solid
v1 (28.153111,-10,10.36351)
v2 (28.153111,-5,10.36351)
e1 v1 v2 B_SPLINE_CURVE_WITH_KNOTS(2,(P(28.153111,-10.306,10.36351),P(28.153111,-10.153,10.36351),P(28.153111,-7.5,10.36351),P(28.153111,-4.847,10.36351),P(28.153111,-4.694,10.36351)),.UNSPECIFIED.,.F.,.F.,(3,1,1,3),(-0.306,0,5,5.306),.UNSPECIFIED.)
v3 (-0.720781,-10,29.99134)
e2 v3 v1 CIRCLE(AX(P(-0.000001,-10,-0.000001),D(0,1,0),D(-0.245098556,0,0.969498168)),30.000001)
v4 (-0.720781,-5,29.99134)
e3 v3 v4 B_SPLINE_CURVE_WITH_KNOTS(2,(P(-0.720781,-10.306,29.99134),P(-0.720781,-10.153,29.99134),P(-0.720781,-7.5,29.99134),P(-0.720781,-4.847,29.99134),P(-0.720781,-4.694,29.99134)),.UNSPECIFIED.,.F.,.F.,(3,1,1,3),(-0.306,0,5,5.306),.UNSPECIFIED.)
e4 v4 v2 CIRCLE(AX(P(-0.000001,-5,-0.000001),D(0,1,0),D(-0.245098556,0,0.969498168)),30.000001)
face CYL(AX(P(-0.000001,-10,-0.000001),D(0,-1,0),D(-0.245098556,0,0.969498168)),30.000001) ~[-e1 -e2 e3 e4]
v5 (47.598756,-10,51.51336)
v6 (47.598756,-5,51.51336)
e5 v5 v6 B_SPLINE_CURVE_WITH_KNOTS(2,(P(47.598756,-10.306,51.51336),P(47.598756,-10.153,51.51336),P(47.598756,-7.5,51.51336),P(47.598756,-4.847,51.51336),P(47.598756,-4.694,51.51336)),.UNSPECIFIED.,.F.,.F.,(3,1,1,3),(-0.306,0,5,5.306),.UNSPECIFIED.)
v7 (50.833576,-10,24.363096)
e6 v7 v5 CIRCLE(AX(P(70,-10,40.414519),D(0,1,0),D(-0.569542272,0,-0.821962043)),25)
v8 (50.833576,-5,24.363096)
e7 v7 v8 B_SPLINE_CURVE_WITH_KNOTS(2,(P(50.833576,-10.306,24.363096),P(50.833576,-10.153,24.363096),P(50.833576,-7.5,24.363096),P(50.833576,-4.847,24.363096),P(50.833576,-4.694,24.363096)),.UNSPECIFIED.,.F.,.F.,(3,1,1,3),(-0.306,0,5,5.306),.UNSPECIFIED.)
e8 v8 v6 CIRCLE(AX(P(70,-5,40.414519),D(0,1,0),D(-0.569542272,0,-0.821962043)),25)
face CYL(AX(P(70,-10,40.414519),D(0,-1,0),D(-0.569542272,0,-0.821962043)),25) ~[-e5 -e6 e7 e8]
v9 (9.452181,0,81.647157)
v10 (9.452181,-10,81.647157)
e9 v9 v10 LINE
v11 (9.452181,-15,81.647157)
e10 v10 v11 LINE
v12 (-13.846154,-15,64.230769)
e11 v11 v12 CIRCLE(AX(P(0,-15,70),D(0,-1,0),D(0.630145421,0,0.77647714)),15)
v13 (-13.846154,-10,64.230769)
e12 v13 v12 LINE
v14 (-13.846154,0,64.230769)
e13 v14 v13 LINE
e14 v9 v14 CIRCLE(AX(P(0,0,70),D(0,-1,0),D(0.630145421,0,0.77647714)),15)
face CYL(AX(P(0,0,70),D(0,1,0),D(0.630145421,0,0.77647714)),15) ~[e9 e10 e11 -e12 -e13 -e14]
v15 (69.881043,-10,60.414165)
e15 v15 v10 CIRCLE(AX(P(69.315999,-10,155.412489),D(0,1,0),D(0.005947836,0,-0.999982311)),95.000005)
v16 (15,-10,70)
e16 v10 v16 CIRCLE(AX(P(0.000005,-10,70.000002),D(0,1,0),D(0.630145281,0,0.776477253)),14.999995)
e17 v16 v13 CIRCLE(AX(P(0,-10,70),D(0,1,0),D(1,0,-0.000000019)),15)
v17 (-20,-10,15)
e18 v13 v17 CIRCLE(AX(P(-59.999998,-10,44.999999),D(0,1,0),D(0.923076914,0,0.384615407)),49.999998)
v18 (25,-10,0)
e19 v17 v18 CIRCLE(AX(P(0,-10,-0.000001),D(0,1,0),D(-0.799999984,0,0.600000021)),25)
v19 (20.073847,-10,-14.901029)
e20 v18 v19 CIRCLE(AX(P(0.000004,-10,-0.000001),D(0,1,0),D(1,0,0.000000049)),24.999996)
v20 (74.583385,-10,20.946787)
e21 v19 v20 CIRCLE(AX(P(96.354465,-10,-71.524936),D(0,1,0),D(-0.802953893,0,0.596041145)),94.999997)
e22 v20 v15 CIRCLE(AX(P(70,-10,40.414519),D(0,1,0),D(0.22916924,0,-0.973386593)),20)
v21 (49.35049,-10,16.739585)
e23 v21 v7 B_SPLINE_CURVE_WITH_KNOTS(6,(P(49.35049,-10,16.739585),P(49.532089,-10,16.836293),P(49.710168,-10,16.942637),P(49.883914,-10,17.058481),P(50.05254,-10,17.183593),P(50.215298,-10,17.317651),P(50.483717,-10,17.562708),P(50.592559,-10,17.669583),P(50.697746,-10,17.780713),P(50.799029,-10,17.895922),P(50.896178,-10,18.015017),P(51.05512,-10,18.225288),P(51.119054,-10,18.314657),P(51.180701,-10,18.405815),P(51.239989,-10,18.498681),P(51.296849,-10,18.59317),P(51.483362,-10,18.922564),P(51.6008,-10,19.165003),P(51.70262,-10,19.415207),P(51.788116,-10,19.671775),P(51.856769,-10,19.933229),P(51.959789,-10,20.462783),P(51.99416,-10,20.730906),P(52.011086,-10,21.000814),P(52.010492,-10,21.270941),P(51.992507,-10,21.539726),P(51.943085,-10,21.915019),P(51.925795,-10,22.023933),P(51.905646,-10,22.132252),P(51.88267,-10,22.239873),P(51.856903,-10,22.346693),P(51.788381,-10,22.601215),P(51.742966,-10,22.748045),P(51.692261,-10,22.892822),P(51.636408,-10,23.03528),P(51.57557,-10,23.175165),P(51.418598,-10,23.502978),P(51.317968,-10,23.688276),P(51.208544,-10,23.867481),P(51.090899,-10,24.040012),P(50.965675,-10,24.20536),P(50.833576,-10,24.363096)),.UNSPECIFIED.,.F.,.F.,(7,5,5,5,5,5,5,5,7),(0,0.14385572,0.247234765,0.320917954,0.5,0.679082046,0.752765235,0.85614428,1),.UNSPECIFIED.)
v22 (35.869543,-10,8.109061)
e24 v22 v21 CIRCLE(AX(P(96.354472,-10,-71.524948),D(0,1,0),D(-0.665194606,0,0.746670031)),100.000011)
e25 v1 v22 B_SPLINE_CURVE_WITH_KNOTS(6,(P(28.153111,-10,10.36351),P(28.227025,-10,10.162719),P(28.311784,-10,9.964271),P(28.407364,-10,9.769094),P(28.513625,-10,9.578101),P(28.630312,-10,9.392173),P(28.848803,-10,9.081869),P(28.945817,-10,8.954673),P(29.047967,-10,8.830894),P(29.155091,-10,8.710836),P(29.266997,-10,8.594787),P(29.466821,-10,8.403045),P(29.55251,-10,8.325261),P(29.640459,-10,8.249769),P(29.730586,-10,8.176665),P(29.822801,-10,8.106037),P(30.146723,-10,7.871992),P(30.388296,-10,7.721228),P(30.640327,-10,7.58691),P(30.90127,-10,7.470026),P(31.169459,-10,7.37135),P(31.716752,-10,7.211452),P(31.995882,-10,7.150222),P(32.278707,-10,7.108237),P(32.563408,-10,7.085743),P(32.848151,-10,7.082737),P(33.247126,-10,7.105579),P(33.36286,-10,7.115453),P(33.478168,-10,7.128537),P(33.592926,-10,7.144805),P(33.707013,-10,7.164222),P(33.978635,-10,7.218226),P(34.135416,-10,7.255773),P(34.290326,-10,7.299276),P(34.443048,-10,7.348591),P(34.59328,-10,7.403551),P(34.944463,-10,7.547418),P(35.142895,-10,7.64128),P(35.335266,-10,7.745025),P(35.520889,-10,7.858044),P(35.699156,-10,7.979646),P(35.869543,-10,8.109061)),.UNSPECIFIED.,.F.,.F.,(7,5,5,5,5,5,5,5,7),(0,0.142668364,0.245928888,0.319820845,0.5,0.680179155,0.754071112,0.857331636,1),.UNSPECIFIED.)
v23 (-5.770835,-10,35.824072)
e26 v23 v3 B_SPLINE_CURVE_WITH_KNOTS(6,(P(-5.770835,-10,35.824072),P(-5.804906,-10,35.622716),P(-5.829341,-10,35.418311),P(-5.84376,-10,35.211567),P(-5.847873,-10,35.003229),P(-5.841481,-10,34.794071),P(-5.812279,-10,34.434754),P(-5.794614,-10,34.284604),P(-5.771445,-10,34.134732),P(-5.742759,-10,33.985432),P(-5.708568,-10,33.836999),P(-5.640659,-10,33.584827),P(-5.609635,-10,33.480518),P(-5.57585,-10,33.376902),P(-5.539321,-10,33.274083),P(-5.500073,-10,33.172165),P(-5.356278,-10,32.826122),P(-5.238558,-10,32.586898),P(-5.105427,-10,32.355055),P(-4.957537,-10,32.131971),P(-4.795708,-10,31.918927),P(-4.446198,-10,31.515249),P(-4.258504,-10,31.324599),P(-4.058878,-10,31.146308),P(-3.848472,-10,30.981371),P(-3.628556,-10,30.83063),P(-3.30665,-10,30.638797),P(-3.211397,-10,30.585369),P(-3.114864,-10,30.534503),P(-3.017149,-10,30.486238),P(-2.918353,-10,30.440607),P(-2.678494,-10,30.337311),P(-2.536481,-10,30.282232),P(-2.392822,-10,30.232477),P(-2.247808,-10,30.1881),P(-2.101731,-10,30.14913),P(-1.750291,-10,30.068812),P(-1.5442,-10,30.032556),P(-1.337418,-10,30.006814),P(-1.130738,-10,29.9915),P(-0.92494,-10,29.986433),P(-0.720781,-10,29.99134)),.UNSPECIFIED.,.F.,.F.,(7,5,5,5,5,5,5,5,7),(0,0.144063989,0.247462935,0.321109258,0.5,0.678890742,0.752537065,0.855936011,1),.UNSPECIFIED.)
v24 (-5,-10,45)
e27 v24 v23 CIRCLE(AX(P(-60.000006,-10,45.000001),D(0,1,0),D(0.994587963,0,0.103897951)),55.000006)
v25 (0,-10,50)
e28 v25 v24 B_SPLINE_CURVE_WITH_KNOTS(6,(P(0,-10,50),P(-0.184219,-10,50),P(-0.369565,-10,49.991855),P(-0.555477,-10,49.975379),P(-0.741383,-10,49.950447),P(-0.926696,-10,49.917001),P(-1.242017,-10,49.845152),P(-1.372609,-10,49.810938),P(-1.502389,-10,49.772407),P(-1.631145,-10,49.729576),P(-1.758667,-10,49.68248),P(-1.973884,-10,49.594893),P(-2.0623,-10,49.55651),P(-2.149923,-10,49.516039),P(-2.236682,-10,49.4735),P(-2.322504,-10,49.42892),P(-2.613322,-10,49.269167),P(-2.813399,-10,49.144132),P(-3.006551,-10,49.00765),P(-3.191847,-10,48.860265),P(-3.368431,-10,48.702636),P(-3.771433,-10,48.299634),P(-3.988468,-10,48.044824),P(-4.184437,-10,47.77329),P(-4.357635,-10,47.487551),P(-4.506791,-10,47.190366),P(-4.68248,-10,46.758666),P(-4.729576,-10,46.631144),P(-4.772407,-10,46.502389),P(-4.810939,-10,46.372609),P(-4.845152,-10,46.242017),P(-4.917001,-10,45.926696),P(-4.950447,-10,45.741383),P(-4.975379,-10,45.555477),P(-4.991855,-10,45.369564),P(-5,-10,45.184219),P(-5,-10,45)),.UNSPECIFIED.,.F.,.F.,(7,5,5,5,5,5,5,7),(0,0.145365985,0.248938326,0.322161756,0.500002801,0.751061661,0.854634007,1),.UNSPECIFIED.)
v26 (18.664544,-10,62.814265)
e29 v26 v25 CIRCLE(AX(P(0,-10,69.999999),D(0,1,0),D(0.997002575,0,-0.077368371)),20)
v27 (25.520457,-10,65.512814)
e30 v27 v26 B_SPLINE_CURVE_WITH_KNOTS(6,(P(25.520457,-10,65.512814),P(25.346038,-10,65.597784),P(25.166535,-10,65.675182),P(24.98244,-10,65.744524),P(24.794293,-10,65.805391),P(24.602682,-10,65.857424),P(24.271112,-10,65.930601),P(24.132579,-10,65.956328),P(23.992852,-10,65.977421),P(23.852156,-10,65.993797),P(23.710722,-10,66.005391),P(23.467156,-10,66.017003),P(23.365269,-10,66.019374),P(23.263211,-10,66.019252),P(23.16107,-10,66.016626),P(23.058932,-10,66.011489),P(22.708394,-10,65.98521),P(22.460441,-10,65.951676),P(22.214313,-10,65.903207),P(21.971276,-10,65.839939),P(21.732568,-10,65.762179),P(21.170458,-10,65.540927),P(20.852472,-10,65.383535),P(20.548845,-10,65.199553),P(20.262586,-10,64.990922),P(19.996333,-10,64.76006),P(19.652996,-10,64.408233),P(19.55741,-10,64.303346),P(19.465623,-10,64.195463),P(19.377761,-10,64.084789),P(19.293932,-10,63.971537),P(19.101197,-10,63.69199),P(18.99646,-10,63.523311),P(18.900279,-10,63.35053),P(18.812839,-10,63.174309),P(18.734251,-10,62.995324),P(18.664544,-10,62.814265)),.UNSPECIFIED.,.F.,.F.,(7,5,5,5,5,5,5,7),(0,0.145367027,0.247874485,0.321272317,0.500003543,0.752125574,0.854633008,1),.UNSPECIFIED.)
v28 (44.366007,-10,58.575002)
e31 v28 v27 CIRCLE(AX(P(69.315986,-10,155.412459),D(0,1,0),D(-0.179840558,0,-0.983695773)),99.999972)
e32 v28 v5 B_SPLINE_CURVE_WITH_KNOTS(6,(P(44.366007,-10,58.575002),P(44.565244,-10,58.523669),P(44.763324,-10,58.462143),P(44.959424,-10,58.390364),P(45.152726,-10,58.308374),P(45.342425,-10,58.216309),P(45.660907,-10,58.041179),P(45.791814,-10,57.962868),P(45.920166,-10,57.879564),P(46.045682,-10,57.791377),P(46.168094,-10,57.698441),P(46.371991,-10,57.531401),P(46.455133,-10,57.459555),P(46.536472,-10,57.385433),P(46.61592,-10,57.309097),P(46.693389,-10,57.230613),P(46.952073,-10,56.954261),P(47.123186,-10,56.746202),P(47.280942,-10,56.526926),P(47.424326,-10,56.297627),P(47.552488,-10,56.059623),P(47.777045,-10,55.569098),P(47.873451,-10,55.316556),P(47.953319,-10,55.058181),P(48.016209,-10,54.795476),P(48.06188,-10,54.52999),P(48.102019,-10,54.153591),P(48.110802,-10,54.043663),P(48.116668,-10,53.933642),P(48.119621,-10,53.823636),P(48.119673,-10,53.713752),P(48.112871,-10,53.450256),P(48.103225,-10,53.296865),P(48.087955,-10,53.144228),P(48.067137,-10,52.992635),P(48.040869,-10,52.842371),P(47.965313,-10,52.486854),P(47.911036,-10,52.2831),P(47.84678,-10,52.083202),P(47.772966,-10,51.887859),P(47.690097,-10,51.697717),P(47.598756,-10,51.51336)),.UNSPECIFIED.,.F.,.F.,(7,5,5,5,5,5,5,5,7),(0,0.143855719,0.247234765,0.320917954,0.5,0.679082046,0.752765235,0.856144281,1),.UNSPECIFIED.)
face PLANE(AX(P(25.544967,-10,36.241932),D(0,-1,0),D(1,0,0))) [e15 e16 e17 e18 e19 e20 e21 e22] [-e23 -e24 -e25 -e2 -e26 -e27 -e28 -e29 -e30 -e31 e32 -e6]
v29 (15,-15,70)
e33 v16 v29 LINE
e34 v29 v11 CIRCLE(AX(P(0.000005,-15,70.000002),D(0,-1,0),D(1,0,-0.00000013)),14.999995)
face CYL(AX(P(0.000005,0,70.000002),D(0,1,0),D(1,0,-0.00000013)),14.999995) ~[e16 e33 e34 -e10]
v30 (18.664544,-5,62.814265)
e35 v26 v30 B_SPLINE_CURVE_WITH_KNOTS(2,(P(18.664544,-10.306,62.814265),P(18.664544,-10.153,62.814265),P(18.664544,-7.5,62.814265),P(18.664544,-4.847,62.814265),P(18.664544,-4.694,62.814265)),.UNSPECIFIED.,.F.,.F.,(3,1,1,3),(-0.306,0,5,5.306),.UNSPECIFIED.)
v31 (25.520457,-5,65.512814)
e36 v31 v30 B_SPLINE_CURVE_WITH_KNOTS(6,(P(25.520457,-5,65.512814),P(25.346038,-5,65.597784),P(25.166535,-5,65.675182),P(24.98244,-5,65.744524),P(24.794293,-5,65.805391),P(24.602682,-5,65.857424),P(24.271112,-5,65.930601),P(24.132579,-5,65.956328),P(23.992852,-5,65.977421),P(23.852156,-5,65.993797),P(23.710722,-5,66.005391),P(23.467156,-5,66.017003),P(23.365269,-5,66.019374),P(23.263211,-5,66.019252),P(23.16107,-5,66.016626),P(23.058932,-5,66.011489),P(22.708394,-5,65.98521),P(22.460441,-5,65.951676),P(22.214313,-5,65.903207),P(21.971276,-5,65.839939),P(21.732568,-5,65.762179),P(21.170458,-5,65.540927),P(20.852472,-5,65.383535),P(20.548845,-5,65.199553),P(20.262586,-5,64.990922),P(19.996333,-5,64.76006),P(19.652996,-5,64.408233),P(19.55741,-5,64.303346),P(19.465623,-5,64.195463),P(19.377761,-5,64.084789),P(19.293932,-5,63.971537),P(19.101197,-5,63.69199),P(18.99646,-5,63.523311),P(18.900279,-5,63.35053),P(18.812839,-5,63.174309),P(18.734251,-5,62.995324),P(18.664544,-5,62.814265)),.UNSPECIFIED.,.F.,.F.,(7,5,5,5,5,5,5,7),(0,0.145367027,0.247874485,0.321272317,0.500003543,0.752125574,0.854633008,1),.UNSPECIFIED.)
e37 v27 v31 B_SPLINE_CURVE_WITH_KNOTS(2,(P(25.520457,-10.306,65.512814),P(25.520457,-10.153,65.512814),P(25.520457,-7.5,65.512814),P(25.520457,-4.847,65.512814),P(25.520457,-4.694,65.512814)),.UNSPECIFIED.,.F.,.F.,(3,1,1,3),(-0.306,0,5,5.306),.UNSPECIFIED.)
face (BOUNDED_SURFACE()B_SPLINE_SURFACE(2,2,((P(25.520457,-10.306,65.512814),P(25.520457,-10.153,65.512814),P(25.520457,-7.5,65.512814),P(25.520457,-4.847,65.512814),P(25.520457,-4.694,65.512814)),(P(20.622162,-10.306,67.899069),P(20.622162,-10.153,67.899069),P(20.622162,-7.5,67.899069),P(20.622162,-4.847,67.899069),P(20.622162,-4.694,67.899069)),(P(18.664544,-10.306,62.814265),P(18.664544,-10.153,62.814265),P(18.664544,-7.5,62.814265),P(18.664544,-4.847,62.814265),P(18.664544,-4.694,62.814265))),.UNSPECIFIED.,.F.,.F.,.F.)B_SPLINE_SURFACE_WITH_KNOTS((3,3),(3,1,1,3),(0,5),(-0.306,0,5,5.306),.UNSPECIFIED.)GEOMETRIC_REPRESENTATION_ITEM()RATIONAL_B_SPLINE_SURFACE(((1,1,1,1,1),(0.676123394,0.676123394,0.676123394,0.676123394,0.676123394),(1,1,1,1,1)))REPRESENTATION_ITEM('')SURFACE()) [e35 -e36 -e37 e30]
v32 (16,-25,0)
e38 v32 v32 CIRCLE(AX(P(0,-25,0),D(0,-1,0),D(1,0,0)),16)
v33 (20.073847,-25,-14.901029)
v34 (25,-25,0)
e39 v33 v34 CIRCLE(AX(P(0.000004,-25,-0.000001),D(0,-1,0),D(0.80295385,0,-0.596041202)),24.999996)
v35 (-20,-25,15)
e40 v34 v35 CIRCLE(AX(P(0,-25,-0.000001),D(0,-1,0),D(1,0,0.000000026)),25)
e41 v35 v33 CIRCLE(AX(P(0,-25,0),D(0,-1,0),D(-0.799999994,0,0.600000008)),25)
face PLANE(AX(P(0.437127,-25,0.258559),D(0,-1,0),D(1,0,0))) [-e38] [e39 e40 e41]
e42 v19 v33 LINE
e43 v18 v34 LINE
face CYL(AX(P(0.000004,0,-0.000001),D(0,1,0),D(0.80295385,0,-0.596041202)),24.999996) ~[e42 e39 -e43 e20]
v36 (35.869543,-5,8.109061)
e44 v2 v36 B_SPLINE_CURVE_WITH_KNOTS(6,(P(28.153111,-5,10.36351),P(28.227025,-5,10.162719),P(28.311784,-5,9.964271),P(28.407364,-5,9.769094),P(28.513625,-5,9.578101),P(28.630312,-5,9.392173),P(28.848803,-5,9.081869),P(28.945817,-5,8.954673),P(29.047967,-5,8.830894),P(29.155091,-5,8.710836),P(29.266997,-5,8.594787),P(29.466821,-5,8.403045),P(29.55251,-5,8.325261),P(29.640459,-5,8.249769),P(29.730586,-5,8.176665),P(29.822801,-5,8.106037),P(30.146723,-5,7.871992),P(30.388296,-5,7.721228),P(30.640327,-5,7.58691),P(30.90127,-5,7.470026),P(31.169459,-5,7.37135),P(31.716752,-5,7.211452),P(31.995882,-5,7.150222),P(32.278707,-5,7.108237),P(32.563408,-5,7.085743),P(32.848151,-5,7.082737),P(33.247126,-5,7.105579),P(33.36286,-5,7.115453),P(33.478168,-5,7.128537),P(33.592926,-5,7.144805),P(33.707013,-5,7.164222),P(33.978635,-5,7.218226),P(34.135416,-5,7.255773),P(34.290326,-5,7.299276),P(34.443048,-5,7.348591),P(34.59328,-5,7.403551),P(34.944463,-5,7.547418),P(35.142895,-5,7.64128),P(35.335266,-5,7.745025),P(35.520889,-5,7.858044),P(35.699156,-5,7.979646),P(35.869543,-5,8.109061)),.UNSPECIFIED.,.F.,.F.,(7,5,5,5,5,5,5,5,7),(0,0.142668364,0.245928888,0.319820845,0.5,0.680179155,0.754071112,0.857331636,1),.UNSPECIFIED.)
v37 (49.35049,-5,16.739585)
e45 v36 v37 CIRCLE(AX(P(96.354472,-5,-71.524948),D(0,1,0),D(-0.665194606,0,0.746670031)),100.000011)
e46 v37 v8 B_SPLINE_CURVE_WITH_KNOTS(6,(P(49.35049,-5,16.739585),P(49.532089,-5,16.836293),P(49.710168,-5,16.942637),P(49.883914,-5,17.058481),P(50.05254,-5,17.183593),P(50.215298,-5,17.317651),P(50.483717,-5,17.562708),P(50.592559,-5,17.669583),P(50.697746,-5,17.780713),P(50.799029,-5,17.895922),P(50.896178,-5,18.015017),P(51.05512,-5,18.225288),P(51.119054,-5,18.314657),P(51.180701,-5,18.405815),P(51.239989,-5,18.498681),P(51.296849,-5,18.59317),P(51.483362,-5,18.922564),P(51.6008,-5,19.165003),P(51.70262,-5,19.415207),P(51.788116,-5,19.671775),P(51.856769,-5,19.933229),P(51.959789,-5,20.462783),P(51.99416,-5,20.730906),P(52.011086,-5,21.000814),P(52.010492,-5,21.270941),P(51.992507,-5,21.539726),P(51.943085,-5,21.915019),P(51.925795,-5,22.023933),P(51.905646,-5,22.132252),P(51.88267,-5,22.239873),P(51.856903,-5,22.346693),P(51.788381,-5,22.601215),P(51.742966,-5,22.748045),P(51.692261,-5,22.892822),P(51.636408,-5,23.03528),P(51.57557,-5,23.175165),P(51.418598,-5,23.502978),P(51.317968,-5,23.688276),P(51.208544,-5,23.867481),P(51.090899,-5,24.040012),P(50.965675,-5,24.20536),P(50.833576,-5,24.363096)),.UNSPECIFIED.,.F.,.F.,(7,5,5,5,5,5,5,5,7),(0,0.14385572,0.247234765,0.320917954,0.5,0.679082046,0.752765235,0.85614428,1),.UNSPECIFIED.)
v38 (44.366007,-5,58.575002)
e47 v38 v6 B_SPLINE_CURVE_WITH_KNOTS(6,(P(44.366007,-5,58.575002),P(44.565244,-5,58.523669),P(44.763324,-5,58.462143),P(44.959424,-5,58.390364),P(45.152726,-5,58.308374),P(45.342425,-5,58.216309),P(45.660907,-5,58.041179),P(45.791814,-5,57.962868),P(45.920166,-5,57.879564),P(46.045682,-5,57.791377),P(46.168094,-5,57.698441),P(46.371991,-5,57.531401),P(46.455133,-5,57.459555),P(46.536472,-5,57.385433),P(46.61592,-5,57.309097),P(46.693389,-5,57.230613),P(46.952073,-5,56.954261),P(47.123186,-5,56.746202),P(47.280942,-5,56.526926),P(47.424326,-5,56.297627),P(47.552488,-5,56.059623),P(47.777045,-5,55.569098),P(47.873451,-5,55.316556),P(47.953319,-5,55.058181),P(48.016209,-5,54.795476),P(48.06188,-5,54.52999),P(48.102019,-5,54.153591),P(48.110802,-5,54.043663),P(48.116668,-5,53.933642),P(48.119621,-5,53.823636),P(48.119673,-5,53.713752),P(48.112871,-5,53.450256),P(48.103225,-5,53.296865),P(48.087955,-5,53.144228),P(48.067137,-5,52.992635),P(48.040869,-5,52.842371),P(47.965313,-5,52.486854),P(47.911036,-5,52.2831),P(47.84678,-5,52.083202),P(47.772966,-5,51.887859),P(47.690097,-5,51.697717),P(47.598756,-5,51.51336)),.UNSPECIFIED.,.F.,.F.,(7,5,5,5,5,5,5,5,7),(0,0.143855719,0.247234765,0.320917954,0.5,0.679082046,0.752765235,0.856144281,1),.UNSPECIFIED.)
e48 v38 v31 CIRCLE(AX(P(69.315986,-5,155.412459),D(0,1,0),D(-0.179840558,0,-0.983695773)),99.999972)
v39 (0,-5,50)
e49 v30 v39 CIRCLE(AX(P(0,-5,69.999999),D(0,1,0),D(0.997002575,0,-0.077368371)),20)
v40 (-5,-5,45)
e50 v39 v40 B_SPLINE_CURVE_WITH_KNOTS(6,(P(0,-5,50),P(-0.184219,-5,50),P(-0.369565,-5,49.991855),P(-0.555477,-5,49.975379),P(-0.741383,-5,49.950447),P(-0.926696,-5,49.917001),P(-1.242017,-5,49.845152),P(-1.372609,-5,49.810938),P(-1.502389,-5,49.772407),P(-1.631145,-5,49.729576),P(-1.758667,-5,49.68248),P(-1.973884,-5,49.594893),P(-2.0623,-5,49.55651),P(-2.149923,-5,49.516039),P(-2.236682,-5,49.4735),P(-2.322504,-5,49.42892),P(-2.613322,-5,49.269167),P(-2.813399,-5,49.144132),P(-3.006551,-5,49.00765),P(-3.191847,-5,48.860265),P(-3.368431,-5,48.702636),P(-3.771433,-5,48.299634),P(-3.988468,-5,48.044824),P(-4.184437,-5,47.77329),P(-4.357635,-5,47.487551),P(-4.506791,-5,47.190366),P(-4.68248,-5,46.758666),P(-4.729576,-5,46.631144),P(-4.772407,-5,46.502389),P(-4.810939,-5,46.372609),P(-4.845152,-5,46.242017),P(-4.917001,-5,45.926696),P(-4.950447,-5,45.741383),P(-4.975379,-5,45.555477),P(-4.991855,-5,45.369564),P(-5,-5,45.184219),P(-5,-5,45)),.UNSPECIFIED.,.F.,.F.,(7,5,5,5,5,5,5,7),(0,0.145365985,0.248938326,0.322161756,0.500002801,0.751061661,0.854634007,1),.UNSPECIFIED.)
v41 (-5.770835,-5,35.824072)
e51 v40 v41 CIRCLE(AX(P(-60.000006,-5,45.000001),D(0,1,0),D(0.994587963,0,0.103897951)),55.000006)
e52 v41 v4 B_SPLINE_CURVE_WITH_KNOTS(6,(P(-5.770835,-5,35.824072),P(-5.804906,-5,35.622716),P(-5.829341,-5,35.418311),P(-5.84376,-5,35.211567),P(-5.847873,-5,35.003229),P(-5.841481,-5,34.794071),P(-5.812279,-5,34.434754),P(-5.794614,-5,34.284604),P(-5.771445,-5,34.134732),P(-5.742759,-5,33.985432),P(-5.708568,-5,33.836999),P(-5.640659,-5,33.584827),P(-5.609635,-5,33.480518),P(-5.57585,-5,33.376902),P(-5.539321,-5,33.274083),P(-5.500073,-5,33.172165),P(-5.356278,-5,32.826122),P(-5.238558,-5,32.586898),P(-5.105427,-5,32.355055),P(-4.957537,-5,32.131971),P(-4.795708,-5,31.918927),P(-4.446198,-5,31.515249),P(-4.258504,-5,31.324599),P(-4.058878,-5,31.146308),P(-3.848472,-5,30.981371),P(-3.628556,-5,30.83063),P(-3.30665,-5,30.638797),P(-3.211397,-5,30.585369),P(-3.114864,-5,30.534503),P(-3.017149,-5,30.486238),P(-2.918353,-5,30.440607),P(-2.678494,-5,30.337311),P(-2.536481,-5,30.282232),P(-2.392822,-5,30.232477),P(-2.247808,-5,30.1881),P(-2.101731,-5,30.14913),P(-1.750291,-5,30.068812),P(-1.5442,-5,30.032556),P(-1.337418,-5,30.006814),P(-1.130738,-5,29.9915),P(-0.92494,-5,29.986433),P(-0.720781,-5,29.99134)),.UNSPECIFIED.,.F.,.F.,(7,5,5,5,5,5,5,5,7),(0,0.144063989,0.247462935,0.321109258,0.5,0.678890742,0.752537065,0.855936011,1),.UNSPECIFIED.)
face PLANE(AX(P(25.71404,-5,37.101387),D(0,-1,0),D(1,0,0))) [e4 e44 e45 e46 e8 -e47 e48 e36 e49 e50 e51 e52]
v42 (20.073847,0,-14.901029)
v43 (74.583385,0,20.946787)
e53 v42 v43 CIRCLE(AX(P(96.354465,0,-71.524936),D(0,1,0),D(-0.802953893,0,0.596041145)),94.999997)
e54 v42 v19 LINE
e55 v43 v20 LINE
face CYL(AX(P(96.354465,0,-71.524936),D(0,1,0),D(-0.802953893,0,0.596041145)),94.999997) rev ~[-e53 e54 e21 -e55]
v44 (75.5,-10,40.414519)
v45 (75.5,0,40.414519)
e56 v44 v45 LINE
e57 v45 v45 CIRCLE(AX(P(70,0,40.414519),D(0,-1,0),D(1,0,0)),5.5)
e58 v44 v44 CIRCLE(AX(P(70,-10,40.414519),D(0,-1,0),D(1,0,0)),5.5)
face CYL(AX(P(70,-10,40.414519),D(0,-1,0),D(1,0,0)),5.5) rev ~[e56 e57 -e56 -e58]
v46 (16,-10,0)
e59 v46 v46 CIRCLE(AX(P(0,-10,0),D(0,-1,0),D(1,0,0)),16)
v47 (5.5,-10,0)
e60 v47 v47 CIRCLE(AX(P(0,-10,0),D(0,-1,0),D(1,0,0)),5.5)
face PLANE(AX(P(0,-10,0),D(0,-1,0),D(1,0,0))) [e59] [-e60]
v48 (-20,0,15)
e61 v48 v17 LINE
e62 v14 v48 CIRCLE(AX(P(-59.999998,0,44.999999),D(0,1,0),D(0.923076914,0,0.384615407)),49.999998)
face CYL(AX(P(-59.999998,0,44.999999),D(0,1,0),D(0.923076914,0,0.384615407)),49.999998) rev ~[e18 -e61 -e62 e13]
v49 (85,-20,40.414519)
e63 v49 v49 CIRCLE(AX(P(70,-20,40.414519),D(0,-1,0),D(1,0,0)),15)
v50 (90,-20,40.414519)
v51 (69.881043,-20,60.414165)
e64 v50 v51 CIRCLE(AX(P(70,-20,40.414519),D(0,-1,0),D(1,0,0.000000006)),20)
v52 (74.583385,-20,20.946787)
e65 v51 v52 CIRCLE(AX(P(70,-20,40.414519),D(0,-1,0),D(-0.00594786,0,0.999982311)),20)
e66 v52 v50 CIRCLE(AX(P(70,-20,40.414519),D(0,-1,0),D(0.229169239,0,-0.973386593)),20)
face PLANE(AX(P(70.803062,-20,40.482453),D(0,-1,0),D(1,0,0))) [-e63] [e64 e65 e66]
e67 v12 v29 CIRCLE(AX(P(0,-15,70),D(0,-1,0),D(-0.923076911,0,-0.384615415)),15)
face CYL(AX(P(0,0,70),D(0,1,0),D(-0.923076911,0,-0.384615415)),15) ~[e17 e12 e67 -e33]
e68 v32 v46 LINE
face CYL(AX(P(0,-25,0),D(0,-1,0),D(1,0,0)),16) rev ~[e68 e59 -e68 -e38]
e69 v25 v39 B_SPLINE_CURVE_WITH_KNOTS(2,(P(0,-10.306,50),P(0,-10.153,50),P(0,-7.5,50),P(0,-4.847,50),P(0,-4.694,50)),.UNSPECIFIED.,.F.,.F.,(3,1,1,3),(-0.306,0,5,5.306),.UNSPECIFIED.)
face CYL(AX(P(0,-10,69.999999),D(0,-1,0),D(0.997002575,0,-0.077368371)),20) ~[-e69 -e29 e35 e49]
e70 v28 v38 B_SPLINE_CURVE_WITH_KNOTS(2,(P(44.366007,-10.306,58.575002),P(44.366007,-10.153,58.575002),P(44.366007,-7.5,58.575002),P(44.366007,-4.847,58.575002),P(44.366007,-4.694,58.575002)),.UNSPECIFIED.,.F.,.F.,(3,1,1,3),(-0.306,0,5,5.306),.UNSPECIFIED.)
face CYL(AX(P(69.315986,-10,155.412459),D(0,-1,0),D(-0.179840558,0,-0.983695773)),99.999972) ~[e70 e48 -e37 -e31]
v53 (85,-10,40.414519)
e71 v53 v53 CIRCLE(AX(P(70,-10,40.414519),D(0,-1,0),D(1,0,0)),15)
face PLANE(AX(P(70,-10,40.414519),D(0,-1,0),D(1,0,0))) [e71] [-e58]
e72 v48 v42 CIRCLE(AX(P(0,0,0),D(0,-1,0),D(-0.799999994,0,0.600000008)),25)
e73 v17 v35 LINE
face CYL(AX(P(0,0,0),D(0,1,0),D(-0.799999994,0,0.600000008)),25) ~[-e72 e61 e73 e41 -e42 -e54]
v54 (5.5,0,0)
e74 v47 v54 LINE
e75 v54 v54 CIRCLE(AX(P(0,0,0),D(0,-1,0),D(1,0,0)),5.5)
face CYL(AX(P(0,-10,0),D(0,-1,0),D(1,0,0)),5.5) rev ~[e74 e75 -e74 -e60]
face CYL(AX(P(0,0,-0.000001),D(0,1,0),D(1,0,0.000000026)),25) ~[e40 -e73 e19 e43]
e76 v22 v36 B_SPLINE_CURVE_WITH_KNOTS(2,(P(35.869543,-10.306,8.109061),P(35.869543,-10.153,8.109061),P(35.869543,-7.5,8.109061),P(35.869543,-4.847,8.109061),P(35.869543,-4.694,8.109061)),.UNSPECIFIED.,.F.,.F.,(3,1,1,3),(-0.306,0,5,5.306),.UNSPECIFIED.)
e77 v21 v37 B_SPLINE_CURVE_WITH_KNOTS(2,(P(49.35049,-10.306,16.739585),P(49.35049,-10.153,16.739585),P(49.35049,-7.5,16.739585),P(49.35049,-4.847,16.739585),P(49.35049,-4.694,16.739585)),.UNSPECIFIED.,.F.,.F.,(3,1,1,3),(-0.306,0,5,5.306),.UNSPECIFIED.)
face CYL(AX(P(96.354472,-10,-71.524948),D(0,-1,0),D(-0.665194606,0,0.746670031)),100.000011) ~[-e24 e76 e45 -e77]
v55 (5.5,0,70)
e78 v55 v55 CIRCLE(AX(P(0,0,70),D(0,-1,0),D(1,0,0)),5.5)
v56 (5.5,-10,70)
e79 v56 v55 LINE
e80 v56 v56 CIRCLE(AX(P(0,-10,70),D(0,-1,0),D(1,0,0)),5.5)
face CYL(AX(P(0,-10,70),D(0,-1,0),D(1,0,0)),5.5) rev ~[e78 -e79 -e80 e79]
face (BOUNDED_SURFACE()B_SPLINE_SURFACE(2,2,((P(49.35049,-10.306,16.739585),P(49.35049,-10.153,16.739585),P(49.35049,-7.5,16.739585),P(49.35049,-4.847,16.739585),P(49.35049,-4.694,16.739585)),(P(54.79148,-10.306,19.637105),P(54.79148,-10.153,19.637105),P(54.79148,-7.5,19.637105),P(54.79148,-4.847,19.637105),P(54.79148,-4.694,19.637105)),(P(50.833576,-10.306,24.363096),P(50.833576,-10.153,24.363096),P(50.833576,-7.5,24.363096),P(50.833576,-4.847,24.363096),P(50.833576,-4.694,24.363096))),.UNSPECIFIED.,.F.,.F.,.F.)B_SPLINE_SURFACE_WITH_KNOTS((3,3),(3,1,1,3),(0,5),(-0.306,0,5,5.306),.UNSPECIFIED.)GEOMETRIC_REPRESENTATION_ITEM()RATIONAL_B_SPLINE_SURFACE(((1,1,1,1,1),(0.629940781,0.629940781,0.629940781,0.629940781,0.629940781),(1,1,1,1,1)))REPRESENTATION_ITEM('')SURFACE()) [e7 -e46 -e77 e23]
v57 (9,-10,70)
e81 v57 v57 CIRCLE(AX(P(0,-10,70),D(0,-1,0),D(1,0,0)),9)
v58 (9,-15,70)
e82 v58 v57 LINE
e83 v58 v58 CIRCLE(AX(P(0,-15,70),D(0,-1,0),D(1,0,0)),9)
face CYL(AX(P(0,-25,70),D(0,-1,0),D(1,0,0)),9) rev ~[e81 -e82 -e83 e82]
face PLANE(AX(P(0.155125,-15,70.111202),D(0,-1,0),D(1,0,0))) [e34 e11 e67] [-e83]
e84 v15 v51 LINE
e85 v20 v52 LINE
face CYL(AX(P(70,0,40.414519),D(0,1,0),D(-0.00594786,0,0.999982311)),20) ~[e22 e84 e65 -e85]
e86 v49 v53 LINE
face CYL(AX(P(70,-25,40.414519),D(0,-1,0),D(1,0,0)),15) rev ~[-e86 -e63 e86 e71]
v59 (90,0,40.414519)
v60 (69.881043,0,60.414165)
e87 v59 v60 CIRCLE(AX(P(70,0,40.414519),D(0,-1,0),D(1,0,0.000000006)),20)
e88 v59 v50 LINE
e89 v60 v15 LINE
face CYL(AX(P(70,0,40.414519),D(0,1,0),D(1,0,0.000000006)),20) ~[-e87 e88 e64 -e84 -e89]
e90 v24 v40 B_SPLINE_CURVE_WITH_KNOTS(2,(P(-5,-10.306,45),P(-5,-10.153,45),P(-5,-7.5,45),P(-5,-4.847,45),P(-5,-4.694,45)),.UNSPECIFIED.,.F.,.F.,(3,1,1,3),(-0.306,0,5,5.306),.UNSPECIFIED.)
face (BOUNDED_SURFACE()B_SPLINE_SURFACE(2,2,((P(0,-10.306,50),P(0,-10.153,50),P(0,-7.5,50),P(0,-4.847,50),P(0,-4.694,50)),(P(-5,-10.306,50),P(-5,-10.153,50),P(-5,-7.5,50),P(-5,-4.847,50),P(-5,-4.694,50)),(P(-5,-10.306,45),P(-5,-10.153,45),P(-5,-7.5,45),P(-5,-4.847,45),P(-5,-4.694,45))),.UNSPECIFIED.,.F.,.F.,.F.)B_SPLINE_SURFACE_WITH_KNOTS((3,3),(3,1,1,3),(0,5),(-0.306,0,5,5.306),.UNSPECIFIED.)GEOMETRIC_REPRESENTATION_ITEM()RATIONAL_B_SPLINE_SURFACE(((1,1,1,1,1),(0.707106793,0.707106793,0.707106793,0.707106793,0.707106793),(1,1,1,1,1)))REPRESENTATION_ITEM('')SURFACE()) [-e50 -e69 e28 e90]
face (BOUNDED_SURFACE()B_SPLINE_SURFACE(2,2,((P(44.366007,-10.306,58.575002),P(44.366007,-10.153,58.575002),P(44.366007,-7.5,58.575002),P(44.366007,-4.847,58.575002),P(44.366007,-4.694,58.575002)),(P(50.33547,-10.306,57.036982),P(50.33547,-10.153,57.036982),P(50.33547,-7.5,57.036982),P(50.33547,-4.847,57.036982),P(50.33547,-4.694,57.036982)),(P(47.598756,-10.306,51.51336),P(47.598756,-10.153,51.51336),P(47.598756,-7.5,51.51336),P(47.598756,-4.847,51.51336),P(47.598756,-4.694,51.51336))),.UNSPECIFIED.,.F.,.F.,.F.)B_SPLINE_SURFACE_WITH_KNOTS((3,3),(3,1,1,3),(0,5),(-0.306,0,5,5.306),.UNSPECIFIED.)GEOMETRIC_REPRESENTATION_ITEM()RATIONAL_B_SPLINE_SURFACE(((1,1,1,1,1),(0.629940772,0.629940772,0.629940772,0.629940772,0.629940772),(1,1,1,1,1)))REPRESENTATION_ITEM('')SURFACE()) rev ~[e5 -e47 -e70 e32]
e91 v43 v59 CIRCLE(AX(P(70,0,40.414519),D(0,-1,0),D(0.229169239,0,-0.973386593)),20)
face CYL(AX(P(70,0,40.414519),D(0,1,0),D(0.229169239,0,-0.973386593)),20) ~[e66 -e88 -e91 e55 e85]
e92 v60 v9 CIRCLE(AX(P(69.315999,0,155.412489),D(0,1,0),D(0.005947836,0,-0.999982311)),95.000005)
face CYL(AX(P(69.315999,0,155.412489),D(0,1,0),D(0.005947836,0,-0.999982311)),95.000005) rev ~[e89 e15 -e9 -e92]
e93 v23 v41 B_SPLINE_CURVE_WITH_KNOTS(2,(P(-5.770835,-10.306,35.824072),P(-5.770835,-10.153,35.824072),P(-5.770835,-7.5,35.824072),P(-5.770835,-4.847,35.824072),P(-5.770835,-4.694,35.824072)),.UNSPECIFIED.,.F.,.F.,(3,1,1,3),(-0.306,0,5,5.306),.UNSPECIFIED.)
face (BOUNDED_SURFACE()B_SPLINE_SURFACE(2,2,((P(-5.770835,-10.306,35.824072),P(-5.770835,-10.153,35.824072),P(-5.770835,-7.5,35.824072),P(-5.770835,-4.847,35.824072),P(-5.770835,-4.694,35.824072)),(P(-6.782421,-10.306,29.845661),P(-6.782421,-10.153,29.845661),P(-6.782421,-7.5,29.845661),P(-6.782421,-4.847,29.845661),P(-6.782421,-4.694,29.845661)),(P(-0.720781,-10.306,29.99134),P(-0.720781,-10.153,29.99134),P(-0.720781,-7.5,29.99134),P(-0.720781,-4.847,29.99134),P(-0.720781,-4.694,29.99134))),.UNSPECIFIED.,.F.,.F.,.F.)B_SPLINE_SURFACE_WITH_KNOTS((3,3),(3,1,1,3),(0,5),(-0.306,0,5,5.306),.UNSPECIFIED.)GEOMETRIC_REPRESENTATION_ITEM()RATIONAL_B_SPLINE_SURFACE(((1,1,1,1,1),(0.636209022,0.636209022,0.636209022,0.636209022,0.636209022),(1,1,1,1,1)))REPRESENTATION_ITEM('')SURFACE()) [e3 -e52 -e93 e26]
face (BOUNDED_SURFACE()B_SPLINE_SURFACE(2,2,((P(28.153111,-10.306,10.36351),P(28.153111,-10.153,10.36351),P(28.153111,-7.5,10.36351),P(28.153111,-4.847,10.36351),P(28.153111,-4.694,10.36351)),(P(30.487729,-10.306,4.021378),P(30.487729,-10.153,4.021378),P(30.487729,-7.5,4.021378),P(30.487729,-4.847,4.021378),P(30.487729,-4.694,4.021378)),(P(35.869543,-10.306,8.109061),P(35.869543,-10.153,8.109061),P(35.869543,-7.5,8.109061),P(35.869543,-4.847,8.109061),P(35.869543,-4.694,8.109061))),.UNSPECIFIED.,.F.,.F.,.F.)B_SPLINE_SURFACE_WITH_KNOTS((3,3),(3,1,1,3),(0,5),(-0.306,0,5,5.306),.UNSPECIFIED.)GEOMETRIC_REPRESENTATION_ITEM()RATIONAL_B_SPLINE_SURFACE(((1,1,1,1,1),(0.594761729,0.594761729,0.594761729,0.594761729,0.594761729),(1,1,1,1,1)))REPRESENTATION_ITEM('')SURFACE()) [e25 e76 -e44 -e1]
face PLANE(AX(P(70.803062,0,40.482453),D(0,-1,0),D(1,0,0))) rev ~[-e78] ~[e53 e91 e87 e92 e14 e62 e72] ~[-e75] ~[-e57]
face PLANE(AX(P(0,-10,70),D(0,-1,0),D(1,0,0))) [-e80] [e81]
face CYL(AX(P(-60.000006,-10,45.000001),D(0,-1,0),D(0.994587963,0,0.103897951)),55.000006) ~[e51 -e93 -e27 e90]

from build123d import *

# Parameters (mm, degrees)
F1_DEPTH  = 10
F2_DEPTH  = 15
F3_DEPTH  = 25
F4_DEPTH  = 20
F5_R      = 16
F5_R_2    = 9
F5_R_3    = 15
F6_DEPTH  = 15
F7_R      = 5.5
F8_DEPTH  = 10.001
F10_DEPTH = 5
F11_R     = 5


with BuildPart() as f1:
    # F0 (on Front) → F1 (new body)
    with BuildSketch(Plane.XZ):
        with BuildLine():
            ThreePointArc((-20, 15), (7.905694, 23.717082), (25, 0))
            ThreePointArc((25, 0), (23.736535, -7.847096), (20.073847, -14.901029))
            ThreePointArc((20.073847, -14.901029), (44.154845, 7.848858), (74.583385, 20.946787))
            ThreePointArc((74.583385, 20.946787), (50.140462, 38.048353), (69.881043, 60.414165))
            ThreePointArc((69.881043, 60.414165), (37.823204, 65.784342), (9.452181, 81.647157))
            ThreePointArc((9.452181, 81.647157), (13.542207, 76.450476), (15, 70))
            ThreePointArc((15, 70), (2.941742, 55.29129), (-13.846154, 64.230769))
            ThreePointArc((-13.846154, 64.230769), (-10.386106, 38.798263), (-20, 15))
        make_face()
    extrude(amount=F1_DEPTH)

    # F0 (on Front) → F2 (join)
    with BuildSketch(Plane.XZ):
        with BuildLine():
            ThreePointArc((9.452181, 81.647157), (-8.981057, 82.014184), (-13.846154, 64.230769))
            ThreePointArc((-13.846154, 64.230769), (2.941742, 55.29129), (15, 70))
            ThreePointArc((15, 70), (13.542207, 76.450476), (9.452181, 81.647157))
        make_face()
    extrude(amount=F2_DEPTH)

    # F0 (on Front) → F3 (join)
    with BuildSketch(Plane.XZ):
        with BuildLine():
            ThreePointArc((20.073847, -14.901029), (23.736535, -7.847096), (25, 0))
            ThreePointArc((25, 0), (7.905694, 23.717082), (-20, 15))
            ThreePointArc((-20, 15), (-14.95056, -20.036985), (20.073847, -14.901029))
        make_face()
    extrude(amount=F3_DEPTH)

    # F0 (on Front) → F4 (join)
    with BuildSketch(Plane.XZ):
        with BuildLine():
            ThreePointArc((69.881043, 60.414165), (50.140462, 38.048353), (74.583385, 20.946787))
            ThreePointArc((74.583385, 20.946787), (85.67909, 27.998153), (90, 40.414519))
            ThreePointArc((90, 40.414519), (84.100015, 54.59865), (69.881043, 60.414165))
        make_face()
    extrude(amount=F4_DEPTH)

    # F5 (on face) → F6 (cut)
    with BuildSketch(Plane.XZ.offset(25)):
        Circle(F5_R)
        with Locations((0, 70)):
            Circle(F5_R_2)
        with Locations((70, 40.414519)):
            Circle(F5_R_3)
    extrude(amount=-F6_DEPTH, mode=Mode.SUBTRACT)

    # F7 (on face) → F8 (cut, through all)
    with BuildSketch(Plane.XZ.offset(10)):
        Circle(F7_R)
        with Locations((0, 70)):
            Circle(F7_R)
        with Locations((70, 40.414519)):
            Circle(F7_R)
    extrude(amount=-F8_DEPTH, mode=Mode.SUBTRACT)

    # F9 (on face) → F10 (cut)
    with BuildSketch(Plane.XZ.offset(10)):
        with BuildLine():
            ThreePointArc((51.331935, 57.042909), (35.156253, 61.427848), (19.940051, 68.452632))
            ThreePointArc((19.940051, 68.452632), (11.500487, 53.637274), (-5.297662, 50.714389))
            ThreePointArc((-5.297662, 50.714389), (-5.246639, 39.797168), (-7.352958, 29.084945))
            ThreePointArc((-7.352958, 29.084945), (17.164465, 24.604494), (29.835004, 3.142063))
            ThreePointArc((29.835004, 3.142063), (42.1494, 12.509642), (55.761443, 19.865468))
            ThreePointArc((55.761443, 19.865468), (45.175577, 37.456812), (51.331935, 57.042909))
        make_face()
    extrude(amount=-F10_DEPTH, mode=Mode.SUBTRACT)

    # F11
    f11_edges = [f1.edges().sort_by_distance(p)[0] for p in [
        (19.940051, -7.5, 68.452632),
        (-5.297662, -7.5, 50.714389),
        (51.331935, -7.5, 57.042909),
        (55.761443, -7.5, 19.865468),
        (-7.352958, -7.5, 29.084945),
        (29.835004, -7.5, 3.142063),
    ]]
    fillet(f11_edges, radius=F11_R)


solid = f1.part
